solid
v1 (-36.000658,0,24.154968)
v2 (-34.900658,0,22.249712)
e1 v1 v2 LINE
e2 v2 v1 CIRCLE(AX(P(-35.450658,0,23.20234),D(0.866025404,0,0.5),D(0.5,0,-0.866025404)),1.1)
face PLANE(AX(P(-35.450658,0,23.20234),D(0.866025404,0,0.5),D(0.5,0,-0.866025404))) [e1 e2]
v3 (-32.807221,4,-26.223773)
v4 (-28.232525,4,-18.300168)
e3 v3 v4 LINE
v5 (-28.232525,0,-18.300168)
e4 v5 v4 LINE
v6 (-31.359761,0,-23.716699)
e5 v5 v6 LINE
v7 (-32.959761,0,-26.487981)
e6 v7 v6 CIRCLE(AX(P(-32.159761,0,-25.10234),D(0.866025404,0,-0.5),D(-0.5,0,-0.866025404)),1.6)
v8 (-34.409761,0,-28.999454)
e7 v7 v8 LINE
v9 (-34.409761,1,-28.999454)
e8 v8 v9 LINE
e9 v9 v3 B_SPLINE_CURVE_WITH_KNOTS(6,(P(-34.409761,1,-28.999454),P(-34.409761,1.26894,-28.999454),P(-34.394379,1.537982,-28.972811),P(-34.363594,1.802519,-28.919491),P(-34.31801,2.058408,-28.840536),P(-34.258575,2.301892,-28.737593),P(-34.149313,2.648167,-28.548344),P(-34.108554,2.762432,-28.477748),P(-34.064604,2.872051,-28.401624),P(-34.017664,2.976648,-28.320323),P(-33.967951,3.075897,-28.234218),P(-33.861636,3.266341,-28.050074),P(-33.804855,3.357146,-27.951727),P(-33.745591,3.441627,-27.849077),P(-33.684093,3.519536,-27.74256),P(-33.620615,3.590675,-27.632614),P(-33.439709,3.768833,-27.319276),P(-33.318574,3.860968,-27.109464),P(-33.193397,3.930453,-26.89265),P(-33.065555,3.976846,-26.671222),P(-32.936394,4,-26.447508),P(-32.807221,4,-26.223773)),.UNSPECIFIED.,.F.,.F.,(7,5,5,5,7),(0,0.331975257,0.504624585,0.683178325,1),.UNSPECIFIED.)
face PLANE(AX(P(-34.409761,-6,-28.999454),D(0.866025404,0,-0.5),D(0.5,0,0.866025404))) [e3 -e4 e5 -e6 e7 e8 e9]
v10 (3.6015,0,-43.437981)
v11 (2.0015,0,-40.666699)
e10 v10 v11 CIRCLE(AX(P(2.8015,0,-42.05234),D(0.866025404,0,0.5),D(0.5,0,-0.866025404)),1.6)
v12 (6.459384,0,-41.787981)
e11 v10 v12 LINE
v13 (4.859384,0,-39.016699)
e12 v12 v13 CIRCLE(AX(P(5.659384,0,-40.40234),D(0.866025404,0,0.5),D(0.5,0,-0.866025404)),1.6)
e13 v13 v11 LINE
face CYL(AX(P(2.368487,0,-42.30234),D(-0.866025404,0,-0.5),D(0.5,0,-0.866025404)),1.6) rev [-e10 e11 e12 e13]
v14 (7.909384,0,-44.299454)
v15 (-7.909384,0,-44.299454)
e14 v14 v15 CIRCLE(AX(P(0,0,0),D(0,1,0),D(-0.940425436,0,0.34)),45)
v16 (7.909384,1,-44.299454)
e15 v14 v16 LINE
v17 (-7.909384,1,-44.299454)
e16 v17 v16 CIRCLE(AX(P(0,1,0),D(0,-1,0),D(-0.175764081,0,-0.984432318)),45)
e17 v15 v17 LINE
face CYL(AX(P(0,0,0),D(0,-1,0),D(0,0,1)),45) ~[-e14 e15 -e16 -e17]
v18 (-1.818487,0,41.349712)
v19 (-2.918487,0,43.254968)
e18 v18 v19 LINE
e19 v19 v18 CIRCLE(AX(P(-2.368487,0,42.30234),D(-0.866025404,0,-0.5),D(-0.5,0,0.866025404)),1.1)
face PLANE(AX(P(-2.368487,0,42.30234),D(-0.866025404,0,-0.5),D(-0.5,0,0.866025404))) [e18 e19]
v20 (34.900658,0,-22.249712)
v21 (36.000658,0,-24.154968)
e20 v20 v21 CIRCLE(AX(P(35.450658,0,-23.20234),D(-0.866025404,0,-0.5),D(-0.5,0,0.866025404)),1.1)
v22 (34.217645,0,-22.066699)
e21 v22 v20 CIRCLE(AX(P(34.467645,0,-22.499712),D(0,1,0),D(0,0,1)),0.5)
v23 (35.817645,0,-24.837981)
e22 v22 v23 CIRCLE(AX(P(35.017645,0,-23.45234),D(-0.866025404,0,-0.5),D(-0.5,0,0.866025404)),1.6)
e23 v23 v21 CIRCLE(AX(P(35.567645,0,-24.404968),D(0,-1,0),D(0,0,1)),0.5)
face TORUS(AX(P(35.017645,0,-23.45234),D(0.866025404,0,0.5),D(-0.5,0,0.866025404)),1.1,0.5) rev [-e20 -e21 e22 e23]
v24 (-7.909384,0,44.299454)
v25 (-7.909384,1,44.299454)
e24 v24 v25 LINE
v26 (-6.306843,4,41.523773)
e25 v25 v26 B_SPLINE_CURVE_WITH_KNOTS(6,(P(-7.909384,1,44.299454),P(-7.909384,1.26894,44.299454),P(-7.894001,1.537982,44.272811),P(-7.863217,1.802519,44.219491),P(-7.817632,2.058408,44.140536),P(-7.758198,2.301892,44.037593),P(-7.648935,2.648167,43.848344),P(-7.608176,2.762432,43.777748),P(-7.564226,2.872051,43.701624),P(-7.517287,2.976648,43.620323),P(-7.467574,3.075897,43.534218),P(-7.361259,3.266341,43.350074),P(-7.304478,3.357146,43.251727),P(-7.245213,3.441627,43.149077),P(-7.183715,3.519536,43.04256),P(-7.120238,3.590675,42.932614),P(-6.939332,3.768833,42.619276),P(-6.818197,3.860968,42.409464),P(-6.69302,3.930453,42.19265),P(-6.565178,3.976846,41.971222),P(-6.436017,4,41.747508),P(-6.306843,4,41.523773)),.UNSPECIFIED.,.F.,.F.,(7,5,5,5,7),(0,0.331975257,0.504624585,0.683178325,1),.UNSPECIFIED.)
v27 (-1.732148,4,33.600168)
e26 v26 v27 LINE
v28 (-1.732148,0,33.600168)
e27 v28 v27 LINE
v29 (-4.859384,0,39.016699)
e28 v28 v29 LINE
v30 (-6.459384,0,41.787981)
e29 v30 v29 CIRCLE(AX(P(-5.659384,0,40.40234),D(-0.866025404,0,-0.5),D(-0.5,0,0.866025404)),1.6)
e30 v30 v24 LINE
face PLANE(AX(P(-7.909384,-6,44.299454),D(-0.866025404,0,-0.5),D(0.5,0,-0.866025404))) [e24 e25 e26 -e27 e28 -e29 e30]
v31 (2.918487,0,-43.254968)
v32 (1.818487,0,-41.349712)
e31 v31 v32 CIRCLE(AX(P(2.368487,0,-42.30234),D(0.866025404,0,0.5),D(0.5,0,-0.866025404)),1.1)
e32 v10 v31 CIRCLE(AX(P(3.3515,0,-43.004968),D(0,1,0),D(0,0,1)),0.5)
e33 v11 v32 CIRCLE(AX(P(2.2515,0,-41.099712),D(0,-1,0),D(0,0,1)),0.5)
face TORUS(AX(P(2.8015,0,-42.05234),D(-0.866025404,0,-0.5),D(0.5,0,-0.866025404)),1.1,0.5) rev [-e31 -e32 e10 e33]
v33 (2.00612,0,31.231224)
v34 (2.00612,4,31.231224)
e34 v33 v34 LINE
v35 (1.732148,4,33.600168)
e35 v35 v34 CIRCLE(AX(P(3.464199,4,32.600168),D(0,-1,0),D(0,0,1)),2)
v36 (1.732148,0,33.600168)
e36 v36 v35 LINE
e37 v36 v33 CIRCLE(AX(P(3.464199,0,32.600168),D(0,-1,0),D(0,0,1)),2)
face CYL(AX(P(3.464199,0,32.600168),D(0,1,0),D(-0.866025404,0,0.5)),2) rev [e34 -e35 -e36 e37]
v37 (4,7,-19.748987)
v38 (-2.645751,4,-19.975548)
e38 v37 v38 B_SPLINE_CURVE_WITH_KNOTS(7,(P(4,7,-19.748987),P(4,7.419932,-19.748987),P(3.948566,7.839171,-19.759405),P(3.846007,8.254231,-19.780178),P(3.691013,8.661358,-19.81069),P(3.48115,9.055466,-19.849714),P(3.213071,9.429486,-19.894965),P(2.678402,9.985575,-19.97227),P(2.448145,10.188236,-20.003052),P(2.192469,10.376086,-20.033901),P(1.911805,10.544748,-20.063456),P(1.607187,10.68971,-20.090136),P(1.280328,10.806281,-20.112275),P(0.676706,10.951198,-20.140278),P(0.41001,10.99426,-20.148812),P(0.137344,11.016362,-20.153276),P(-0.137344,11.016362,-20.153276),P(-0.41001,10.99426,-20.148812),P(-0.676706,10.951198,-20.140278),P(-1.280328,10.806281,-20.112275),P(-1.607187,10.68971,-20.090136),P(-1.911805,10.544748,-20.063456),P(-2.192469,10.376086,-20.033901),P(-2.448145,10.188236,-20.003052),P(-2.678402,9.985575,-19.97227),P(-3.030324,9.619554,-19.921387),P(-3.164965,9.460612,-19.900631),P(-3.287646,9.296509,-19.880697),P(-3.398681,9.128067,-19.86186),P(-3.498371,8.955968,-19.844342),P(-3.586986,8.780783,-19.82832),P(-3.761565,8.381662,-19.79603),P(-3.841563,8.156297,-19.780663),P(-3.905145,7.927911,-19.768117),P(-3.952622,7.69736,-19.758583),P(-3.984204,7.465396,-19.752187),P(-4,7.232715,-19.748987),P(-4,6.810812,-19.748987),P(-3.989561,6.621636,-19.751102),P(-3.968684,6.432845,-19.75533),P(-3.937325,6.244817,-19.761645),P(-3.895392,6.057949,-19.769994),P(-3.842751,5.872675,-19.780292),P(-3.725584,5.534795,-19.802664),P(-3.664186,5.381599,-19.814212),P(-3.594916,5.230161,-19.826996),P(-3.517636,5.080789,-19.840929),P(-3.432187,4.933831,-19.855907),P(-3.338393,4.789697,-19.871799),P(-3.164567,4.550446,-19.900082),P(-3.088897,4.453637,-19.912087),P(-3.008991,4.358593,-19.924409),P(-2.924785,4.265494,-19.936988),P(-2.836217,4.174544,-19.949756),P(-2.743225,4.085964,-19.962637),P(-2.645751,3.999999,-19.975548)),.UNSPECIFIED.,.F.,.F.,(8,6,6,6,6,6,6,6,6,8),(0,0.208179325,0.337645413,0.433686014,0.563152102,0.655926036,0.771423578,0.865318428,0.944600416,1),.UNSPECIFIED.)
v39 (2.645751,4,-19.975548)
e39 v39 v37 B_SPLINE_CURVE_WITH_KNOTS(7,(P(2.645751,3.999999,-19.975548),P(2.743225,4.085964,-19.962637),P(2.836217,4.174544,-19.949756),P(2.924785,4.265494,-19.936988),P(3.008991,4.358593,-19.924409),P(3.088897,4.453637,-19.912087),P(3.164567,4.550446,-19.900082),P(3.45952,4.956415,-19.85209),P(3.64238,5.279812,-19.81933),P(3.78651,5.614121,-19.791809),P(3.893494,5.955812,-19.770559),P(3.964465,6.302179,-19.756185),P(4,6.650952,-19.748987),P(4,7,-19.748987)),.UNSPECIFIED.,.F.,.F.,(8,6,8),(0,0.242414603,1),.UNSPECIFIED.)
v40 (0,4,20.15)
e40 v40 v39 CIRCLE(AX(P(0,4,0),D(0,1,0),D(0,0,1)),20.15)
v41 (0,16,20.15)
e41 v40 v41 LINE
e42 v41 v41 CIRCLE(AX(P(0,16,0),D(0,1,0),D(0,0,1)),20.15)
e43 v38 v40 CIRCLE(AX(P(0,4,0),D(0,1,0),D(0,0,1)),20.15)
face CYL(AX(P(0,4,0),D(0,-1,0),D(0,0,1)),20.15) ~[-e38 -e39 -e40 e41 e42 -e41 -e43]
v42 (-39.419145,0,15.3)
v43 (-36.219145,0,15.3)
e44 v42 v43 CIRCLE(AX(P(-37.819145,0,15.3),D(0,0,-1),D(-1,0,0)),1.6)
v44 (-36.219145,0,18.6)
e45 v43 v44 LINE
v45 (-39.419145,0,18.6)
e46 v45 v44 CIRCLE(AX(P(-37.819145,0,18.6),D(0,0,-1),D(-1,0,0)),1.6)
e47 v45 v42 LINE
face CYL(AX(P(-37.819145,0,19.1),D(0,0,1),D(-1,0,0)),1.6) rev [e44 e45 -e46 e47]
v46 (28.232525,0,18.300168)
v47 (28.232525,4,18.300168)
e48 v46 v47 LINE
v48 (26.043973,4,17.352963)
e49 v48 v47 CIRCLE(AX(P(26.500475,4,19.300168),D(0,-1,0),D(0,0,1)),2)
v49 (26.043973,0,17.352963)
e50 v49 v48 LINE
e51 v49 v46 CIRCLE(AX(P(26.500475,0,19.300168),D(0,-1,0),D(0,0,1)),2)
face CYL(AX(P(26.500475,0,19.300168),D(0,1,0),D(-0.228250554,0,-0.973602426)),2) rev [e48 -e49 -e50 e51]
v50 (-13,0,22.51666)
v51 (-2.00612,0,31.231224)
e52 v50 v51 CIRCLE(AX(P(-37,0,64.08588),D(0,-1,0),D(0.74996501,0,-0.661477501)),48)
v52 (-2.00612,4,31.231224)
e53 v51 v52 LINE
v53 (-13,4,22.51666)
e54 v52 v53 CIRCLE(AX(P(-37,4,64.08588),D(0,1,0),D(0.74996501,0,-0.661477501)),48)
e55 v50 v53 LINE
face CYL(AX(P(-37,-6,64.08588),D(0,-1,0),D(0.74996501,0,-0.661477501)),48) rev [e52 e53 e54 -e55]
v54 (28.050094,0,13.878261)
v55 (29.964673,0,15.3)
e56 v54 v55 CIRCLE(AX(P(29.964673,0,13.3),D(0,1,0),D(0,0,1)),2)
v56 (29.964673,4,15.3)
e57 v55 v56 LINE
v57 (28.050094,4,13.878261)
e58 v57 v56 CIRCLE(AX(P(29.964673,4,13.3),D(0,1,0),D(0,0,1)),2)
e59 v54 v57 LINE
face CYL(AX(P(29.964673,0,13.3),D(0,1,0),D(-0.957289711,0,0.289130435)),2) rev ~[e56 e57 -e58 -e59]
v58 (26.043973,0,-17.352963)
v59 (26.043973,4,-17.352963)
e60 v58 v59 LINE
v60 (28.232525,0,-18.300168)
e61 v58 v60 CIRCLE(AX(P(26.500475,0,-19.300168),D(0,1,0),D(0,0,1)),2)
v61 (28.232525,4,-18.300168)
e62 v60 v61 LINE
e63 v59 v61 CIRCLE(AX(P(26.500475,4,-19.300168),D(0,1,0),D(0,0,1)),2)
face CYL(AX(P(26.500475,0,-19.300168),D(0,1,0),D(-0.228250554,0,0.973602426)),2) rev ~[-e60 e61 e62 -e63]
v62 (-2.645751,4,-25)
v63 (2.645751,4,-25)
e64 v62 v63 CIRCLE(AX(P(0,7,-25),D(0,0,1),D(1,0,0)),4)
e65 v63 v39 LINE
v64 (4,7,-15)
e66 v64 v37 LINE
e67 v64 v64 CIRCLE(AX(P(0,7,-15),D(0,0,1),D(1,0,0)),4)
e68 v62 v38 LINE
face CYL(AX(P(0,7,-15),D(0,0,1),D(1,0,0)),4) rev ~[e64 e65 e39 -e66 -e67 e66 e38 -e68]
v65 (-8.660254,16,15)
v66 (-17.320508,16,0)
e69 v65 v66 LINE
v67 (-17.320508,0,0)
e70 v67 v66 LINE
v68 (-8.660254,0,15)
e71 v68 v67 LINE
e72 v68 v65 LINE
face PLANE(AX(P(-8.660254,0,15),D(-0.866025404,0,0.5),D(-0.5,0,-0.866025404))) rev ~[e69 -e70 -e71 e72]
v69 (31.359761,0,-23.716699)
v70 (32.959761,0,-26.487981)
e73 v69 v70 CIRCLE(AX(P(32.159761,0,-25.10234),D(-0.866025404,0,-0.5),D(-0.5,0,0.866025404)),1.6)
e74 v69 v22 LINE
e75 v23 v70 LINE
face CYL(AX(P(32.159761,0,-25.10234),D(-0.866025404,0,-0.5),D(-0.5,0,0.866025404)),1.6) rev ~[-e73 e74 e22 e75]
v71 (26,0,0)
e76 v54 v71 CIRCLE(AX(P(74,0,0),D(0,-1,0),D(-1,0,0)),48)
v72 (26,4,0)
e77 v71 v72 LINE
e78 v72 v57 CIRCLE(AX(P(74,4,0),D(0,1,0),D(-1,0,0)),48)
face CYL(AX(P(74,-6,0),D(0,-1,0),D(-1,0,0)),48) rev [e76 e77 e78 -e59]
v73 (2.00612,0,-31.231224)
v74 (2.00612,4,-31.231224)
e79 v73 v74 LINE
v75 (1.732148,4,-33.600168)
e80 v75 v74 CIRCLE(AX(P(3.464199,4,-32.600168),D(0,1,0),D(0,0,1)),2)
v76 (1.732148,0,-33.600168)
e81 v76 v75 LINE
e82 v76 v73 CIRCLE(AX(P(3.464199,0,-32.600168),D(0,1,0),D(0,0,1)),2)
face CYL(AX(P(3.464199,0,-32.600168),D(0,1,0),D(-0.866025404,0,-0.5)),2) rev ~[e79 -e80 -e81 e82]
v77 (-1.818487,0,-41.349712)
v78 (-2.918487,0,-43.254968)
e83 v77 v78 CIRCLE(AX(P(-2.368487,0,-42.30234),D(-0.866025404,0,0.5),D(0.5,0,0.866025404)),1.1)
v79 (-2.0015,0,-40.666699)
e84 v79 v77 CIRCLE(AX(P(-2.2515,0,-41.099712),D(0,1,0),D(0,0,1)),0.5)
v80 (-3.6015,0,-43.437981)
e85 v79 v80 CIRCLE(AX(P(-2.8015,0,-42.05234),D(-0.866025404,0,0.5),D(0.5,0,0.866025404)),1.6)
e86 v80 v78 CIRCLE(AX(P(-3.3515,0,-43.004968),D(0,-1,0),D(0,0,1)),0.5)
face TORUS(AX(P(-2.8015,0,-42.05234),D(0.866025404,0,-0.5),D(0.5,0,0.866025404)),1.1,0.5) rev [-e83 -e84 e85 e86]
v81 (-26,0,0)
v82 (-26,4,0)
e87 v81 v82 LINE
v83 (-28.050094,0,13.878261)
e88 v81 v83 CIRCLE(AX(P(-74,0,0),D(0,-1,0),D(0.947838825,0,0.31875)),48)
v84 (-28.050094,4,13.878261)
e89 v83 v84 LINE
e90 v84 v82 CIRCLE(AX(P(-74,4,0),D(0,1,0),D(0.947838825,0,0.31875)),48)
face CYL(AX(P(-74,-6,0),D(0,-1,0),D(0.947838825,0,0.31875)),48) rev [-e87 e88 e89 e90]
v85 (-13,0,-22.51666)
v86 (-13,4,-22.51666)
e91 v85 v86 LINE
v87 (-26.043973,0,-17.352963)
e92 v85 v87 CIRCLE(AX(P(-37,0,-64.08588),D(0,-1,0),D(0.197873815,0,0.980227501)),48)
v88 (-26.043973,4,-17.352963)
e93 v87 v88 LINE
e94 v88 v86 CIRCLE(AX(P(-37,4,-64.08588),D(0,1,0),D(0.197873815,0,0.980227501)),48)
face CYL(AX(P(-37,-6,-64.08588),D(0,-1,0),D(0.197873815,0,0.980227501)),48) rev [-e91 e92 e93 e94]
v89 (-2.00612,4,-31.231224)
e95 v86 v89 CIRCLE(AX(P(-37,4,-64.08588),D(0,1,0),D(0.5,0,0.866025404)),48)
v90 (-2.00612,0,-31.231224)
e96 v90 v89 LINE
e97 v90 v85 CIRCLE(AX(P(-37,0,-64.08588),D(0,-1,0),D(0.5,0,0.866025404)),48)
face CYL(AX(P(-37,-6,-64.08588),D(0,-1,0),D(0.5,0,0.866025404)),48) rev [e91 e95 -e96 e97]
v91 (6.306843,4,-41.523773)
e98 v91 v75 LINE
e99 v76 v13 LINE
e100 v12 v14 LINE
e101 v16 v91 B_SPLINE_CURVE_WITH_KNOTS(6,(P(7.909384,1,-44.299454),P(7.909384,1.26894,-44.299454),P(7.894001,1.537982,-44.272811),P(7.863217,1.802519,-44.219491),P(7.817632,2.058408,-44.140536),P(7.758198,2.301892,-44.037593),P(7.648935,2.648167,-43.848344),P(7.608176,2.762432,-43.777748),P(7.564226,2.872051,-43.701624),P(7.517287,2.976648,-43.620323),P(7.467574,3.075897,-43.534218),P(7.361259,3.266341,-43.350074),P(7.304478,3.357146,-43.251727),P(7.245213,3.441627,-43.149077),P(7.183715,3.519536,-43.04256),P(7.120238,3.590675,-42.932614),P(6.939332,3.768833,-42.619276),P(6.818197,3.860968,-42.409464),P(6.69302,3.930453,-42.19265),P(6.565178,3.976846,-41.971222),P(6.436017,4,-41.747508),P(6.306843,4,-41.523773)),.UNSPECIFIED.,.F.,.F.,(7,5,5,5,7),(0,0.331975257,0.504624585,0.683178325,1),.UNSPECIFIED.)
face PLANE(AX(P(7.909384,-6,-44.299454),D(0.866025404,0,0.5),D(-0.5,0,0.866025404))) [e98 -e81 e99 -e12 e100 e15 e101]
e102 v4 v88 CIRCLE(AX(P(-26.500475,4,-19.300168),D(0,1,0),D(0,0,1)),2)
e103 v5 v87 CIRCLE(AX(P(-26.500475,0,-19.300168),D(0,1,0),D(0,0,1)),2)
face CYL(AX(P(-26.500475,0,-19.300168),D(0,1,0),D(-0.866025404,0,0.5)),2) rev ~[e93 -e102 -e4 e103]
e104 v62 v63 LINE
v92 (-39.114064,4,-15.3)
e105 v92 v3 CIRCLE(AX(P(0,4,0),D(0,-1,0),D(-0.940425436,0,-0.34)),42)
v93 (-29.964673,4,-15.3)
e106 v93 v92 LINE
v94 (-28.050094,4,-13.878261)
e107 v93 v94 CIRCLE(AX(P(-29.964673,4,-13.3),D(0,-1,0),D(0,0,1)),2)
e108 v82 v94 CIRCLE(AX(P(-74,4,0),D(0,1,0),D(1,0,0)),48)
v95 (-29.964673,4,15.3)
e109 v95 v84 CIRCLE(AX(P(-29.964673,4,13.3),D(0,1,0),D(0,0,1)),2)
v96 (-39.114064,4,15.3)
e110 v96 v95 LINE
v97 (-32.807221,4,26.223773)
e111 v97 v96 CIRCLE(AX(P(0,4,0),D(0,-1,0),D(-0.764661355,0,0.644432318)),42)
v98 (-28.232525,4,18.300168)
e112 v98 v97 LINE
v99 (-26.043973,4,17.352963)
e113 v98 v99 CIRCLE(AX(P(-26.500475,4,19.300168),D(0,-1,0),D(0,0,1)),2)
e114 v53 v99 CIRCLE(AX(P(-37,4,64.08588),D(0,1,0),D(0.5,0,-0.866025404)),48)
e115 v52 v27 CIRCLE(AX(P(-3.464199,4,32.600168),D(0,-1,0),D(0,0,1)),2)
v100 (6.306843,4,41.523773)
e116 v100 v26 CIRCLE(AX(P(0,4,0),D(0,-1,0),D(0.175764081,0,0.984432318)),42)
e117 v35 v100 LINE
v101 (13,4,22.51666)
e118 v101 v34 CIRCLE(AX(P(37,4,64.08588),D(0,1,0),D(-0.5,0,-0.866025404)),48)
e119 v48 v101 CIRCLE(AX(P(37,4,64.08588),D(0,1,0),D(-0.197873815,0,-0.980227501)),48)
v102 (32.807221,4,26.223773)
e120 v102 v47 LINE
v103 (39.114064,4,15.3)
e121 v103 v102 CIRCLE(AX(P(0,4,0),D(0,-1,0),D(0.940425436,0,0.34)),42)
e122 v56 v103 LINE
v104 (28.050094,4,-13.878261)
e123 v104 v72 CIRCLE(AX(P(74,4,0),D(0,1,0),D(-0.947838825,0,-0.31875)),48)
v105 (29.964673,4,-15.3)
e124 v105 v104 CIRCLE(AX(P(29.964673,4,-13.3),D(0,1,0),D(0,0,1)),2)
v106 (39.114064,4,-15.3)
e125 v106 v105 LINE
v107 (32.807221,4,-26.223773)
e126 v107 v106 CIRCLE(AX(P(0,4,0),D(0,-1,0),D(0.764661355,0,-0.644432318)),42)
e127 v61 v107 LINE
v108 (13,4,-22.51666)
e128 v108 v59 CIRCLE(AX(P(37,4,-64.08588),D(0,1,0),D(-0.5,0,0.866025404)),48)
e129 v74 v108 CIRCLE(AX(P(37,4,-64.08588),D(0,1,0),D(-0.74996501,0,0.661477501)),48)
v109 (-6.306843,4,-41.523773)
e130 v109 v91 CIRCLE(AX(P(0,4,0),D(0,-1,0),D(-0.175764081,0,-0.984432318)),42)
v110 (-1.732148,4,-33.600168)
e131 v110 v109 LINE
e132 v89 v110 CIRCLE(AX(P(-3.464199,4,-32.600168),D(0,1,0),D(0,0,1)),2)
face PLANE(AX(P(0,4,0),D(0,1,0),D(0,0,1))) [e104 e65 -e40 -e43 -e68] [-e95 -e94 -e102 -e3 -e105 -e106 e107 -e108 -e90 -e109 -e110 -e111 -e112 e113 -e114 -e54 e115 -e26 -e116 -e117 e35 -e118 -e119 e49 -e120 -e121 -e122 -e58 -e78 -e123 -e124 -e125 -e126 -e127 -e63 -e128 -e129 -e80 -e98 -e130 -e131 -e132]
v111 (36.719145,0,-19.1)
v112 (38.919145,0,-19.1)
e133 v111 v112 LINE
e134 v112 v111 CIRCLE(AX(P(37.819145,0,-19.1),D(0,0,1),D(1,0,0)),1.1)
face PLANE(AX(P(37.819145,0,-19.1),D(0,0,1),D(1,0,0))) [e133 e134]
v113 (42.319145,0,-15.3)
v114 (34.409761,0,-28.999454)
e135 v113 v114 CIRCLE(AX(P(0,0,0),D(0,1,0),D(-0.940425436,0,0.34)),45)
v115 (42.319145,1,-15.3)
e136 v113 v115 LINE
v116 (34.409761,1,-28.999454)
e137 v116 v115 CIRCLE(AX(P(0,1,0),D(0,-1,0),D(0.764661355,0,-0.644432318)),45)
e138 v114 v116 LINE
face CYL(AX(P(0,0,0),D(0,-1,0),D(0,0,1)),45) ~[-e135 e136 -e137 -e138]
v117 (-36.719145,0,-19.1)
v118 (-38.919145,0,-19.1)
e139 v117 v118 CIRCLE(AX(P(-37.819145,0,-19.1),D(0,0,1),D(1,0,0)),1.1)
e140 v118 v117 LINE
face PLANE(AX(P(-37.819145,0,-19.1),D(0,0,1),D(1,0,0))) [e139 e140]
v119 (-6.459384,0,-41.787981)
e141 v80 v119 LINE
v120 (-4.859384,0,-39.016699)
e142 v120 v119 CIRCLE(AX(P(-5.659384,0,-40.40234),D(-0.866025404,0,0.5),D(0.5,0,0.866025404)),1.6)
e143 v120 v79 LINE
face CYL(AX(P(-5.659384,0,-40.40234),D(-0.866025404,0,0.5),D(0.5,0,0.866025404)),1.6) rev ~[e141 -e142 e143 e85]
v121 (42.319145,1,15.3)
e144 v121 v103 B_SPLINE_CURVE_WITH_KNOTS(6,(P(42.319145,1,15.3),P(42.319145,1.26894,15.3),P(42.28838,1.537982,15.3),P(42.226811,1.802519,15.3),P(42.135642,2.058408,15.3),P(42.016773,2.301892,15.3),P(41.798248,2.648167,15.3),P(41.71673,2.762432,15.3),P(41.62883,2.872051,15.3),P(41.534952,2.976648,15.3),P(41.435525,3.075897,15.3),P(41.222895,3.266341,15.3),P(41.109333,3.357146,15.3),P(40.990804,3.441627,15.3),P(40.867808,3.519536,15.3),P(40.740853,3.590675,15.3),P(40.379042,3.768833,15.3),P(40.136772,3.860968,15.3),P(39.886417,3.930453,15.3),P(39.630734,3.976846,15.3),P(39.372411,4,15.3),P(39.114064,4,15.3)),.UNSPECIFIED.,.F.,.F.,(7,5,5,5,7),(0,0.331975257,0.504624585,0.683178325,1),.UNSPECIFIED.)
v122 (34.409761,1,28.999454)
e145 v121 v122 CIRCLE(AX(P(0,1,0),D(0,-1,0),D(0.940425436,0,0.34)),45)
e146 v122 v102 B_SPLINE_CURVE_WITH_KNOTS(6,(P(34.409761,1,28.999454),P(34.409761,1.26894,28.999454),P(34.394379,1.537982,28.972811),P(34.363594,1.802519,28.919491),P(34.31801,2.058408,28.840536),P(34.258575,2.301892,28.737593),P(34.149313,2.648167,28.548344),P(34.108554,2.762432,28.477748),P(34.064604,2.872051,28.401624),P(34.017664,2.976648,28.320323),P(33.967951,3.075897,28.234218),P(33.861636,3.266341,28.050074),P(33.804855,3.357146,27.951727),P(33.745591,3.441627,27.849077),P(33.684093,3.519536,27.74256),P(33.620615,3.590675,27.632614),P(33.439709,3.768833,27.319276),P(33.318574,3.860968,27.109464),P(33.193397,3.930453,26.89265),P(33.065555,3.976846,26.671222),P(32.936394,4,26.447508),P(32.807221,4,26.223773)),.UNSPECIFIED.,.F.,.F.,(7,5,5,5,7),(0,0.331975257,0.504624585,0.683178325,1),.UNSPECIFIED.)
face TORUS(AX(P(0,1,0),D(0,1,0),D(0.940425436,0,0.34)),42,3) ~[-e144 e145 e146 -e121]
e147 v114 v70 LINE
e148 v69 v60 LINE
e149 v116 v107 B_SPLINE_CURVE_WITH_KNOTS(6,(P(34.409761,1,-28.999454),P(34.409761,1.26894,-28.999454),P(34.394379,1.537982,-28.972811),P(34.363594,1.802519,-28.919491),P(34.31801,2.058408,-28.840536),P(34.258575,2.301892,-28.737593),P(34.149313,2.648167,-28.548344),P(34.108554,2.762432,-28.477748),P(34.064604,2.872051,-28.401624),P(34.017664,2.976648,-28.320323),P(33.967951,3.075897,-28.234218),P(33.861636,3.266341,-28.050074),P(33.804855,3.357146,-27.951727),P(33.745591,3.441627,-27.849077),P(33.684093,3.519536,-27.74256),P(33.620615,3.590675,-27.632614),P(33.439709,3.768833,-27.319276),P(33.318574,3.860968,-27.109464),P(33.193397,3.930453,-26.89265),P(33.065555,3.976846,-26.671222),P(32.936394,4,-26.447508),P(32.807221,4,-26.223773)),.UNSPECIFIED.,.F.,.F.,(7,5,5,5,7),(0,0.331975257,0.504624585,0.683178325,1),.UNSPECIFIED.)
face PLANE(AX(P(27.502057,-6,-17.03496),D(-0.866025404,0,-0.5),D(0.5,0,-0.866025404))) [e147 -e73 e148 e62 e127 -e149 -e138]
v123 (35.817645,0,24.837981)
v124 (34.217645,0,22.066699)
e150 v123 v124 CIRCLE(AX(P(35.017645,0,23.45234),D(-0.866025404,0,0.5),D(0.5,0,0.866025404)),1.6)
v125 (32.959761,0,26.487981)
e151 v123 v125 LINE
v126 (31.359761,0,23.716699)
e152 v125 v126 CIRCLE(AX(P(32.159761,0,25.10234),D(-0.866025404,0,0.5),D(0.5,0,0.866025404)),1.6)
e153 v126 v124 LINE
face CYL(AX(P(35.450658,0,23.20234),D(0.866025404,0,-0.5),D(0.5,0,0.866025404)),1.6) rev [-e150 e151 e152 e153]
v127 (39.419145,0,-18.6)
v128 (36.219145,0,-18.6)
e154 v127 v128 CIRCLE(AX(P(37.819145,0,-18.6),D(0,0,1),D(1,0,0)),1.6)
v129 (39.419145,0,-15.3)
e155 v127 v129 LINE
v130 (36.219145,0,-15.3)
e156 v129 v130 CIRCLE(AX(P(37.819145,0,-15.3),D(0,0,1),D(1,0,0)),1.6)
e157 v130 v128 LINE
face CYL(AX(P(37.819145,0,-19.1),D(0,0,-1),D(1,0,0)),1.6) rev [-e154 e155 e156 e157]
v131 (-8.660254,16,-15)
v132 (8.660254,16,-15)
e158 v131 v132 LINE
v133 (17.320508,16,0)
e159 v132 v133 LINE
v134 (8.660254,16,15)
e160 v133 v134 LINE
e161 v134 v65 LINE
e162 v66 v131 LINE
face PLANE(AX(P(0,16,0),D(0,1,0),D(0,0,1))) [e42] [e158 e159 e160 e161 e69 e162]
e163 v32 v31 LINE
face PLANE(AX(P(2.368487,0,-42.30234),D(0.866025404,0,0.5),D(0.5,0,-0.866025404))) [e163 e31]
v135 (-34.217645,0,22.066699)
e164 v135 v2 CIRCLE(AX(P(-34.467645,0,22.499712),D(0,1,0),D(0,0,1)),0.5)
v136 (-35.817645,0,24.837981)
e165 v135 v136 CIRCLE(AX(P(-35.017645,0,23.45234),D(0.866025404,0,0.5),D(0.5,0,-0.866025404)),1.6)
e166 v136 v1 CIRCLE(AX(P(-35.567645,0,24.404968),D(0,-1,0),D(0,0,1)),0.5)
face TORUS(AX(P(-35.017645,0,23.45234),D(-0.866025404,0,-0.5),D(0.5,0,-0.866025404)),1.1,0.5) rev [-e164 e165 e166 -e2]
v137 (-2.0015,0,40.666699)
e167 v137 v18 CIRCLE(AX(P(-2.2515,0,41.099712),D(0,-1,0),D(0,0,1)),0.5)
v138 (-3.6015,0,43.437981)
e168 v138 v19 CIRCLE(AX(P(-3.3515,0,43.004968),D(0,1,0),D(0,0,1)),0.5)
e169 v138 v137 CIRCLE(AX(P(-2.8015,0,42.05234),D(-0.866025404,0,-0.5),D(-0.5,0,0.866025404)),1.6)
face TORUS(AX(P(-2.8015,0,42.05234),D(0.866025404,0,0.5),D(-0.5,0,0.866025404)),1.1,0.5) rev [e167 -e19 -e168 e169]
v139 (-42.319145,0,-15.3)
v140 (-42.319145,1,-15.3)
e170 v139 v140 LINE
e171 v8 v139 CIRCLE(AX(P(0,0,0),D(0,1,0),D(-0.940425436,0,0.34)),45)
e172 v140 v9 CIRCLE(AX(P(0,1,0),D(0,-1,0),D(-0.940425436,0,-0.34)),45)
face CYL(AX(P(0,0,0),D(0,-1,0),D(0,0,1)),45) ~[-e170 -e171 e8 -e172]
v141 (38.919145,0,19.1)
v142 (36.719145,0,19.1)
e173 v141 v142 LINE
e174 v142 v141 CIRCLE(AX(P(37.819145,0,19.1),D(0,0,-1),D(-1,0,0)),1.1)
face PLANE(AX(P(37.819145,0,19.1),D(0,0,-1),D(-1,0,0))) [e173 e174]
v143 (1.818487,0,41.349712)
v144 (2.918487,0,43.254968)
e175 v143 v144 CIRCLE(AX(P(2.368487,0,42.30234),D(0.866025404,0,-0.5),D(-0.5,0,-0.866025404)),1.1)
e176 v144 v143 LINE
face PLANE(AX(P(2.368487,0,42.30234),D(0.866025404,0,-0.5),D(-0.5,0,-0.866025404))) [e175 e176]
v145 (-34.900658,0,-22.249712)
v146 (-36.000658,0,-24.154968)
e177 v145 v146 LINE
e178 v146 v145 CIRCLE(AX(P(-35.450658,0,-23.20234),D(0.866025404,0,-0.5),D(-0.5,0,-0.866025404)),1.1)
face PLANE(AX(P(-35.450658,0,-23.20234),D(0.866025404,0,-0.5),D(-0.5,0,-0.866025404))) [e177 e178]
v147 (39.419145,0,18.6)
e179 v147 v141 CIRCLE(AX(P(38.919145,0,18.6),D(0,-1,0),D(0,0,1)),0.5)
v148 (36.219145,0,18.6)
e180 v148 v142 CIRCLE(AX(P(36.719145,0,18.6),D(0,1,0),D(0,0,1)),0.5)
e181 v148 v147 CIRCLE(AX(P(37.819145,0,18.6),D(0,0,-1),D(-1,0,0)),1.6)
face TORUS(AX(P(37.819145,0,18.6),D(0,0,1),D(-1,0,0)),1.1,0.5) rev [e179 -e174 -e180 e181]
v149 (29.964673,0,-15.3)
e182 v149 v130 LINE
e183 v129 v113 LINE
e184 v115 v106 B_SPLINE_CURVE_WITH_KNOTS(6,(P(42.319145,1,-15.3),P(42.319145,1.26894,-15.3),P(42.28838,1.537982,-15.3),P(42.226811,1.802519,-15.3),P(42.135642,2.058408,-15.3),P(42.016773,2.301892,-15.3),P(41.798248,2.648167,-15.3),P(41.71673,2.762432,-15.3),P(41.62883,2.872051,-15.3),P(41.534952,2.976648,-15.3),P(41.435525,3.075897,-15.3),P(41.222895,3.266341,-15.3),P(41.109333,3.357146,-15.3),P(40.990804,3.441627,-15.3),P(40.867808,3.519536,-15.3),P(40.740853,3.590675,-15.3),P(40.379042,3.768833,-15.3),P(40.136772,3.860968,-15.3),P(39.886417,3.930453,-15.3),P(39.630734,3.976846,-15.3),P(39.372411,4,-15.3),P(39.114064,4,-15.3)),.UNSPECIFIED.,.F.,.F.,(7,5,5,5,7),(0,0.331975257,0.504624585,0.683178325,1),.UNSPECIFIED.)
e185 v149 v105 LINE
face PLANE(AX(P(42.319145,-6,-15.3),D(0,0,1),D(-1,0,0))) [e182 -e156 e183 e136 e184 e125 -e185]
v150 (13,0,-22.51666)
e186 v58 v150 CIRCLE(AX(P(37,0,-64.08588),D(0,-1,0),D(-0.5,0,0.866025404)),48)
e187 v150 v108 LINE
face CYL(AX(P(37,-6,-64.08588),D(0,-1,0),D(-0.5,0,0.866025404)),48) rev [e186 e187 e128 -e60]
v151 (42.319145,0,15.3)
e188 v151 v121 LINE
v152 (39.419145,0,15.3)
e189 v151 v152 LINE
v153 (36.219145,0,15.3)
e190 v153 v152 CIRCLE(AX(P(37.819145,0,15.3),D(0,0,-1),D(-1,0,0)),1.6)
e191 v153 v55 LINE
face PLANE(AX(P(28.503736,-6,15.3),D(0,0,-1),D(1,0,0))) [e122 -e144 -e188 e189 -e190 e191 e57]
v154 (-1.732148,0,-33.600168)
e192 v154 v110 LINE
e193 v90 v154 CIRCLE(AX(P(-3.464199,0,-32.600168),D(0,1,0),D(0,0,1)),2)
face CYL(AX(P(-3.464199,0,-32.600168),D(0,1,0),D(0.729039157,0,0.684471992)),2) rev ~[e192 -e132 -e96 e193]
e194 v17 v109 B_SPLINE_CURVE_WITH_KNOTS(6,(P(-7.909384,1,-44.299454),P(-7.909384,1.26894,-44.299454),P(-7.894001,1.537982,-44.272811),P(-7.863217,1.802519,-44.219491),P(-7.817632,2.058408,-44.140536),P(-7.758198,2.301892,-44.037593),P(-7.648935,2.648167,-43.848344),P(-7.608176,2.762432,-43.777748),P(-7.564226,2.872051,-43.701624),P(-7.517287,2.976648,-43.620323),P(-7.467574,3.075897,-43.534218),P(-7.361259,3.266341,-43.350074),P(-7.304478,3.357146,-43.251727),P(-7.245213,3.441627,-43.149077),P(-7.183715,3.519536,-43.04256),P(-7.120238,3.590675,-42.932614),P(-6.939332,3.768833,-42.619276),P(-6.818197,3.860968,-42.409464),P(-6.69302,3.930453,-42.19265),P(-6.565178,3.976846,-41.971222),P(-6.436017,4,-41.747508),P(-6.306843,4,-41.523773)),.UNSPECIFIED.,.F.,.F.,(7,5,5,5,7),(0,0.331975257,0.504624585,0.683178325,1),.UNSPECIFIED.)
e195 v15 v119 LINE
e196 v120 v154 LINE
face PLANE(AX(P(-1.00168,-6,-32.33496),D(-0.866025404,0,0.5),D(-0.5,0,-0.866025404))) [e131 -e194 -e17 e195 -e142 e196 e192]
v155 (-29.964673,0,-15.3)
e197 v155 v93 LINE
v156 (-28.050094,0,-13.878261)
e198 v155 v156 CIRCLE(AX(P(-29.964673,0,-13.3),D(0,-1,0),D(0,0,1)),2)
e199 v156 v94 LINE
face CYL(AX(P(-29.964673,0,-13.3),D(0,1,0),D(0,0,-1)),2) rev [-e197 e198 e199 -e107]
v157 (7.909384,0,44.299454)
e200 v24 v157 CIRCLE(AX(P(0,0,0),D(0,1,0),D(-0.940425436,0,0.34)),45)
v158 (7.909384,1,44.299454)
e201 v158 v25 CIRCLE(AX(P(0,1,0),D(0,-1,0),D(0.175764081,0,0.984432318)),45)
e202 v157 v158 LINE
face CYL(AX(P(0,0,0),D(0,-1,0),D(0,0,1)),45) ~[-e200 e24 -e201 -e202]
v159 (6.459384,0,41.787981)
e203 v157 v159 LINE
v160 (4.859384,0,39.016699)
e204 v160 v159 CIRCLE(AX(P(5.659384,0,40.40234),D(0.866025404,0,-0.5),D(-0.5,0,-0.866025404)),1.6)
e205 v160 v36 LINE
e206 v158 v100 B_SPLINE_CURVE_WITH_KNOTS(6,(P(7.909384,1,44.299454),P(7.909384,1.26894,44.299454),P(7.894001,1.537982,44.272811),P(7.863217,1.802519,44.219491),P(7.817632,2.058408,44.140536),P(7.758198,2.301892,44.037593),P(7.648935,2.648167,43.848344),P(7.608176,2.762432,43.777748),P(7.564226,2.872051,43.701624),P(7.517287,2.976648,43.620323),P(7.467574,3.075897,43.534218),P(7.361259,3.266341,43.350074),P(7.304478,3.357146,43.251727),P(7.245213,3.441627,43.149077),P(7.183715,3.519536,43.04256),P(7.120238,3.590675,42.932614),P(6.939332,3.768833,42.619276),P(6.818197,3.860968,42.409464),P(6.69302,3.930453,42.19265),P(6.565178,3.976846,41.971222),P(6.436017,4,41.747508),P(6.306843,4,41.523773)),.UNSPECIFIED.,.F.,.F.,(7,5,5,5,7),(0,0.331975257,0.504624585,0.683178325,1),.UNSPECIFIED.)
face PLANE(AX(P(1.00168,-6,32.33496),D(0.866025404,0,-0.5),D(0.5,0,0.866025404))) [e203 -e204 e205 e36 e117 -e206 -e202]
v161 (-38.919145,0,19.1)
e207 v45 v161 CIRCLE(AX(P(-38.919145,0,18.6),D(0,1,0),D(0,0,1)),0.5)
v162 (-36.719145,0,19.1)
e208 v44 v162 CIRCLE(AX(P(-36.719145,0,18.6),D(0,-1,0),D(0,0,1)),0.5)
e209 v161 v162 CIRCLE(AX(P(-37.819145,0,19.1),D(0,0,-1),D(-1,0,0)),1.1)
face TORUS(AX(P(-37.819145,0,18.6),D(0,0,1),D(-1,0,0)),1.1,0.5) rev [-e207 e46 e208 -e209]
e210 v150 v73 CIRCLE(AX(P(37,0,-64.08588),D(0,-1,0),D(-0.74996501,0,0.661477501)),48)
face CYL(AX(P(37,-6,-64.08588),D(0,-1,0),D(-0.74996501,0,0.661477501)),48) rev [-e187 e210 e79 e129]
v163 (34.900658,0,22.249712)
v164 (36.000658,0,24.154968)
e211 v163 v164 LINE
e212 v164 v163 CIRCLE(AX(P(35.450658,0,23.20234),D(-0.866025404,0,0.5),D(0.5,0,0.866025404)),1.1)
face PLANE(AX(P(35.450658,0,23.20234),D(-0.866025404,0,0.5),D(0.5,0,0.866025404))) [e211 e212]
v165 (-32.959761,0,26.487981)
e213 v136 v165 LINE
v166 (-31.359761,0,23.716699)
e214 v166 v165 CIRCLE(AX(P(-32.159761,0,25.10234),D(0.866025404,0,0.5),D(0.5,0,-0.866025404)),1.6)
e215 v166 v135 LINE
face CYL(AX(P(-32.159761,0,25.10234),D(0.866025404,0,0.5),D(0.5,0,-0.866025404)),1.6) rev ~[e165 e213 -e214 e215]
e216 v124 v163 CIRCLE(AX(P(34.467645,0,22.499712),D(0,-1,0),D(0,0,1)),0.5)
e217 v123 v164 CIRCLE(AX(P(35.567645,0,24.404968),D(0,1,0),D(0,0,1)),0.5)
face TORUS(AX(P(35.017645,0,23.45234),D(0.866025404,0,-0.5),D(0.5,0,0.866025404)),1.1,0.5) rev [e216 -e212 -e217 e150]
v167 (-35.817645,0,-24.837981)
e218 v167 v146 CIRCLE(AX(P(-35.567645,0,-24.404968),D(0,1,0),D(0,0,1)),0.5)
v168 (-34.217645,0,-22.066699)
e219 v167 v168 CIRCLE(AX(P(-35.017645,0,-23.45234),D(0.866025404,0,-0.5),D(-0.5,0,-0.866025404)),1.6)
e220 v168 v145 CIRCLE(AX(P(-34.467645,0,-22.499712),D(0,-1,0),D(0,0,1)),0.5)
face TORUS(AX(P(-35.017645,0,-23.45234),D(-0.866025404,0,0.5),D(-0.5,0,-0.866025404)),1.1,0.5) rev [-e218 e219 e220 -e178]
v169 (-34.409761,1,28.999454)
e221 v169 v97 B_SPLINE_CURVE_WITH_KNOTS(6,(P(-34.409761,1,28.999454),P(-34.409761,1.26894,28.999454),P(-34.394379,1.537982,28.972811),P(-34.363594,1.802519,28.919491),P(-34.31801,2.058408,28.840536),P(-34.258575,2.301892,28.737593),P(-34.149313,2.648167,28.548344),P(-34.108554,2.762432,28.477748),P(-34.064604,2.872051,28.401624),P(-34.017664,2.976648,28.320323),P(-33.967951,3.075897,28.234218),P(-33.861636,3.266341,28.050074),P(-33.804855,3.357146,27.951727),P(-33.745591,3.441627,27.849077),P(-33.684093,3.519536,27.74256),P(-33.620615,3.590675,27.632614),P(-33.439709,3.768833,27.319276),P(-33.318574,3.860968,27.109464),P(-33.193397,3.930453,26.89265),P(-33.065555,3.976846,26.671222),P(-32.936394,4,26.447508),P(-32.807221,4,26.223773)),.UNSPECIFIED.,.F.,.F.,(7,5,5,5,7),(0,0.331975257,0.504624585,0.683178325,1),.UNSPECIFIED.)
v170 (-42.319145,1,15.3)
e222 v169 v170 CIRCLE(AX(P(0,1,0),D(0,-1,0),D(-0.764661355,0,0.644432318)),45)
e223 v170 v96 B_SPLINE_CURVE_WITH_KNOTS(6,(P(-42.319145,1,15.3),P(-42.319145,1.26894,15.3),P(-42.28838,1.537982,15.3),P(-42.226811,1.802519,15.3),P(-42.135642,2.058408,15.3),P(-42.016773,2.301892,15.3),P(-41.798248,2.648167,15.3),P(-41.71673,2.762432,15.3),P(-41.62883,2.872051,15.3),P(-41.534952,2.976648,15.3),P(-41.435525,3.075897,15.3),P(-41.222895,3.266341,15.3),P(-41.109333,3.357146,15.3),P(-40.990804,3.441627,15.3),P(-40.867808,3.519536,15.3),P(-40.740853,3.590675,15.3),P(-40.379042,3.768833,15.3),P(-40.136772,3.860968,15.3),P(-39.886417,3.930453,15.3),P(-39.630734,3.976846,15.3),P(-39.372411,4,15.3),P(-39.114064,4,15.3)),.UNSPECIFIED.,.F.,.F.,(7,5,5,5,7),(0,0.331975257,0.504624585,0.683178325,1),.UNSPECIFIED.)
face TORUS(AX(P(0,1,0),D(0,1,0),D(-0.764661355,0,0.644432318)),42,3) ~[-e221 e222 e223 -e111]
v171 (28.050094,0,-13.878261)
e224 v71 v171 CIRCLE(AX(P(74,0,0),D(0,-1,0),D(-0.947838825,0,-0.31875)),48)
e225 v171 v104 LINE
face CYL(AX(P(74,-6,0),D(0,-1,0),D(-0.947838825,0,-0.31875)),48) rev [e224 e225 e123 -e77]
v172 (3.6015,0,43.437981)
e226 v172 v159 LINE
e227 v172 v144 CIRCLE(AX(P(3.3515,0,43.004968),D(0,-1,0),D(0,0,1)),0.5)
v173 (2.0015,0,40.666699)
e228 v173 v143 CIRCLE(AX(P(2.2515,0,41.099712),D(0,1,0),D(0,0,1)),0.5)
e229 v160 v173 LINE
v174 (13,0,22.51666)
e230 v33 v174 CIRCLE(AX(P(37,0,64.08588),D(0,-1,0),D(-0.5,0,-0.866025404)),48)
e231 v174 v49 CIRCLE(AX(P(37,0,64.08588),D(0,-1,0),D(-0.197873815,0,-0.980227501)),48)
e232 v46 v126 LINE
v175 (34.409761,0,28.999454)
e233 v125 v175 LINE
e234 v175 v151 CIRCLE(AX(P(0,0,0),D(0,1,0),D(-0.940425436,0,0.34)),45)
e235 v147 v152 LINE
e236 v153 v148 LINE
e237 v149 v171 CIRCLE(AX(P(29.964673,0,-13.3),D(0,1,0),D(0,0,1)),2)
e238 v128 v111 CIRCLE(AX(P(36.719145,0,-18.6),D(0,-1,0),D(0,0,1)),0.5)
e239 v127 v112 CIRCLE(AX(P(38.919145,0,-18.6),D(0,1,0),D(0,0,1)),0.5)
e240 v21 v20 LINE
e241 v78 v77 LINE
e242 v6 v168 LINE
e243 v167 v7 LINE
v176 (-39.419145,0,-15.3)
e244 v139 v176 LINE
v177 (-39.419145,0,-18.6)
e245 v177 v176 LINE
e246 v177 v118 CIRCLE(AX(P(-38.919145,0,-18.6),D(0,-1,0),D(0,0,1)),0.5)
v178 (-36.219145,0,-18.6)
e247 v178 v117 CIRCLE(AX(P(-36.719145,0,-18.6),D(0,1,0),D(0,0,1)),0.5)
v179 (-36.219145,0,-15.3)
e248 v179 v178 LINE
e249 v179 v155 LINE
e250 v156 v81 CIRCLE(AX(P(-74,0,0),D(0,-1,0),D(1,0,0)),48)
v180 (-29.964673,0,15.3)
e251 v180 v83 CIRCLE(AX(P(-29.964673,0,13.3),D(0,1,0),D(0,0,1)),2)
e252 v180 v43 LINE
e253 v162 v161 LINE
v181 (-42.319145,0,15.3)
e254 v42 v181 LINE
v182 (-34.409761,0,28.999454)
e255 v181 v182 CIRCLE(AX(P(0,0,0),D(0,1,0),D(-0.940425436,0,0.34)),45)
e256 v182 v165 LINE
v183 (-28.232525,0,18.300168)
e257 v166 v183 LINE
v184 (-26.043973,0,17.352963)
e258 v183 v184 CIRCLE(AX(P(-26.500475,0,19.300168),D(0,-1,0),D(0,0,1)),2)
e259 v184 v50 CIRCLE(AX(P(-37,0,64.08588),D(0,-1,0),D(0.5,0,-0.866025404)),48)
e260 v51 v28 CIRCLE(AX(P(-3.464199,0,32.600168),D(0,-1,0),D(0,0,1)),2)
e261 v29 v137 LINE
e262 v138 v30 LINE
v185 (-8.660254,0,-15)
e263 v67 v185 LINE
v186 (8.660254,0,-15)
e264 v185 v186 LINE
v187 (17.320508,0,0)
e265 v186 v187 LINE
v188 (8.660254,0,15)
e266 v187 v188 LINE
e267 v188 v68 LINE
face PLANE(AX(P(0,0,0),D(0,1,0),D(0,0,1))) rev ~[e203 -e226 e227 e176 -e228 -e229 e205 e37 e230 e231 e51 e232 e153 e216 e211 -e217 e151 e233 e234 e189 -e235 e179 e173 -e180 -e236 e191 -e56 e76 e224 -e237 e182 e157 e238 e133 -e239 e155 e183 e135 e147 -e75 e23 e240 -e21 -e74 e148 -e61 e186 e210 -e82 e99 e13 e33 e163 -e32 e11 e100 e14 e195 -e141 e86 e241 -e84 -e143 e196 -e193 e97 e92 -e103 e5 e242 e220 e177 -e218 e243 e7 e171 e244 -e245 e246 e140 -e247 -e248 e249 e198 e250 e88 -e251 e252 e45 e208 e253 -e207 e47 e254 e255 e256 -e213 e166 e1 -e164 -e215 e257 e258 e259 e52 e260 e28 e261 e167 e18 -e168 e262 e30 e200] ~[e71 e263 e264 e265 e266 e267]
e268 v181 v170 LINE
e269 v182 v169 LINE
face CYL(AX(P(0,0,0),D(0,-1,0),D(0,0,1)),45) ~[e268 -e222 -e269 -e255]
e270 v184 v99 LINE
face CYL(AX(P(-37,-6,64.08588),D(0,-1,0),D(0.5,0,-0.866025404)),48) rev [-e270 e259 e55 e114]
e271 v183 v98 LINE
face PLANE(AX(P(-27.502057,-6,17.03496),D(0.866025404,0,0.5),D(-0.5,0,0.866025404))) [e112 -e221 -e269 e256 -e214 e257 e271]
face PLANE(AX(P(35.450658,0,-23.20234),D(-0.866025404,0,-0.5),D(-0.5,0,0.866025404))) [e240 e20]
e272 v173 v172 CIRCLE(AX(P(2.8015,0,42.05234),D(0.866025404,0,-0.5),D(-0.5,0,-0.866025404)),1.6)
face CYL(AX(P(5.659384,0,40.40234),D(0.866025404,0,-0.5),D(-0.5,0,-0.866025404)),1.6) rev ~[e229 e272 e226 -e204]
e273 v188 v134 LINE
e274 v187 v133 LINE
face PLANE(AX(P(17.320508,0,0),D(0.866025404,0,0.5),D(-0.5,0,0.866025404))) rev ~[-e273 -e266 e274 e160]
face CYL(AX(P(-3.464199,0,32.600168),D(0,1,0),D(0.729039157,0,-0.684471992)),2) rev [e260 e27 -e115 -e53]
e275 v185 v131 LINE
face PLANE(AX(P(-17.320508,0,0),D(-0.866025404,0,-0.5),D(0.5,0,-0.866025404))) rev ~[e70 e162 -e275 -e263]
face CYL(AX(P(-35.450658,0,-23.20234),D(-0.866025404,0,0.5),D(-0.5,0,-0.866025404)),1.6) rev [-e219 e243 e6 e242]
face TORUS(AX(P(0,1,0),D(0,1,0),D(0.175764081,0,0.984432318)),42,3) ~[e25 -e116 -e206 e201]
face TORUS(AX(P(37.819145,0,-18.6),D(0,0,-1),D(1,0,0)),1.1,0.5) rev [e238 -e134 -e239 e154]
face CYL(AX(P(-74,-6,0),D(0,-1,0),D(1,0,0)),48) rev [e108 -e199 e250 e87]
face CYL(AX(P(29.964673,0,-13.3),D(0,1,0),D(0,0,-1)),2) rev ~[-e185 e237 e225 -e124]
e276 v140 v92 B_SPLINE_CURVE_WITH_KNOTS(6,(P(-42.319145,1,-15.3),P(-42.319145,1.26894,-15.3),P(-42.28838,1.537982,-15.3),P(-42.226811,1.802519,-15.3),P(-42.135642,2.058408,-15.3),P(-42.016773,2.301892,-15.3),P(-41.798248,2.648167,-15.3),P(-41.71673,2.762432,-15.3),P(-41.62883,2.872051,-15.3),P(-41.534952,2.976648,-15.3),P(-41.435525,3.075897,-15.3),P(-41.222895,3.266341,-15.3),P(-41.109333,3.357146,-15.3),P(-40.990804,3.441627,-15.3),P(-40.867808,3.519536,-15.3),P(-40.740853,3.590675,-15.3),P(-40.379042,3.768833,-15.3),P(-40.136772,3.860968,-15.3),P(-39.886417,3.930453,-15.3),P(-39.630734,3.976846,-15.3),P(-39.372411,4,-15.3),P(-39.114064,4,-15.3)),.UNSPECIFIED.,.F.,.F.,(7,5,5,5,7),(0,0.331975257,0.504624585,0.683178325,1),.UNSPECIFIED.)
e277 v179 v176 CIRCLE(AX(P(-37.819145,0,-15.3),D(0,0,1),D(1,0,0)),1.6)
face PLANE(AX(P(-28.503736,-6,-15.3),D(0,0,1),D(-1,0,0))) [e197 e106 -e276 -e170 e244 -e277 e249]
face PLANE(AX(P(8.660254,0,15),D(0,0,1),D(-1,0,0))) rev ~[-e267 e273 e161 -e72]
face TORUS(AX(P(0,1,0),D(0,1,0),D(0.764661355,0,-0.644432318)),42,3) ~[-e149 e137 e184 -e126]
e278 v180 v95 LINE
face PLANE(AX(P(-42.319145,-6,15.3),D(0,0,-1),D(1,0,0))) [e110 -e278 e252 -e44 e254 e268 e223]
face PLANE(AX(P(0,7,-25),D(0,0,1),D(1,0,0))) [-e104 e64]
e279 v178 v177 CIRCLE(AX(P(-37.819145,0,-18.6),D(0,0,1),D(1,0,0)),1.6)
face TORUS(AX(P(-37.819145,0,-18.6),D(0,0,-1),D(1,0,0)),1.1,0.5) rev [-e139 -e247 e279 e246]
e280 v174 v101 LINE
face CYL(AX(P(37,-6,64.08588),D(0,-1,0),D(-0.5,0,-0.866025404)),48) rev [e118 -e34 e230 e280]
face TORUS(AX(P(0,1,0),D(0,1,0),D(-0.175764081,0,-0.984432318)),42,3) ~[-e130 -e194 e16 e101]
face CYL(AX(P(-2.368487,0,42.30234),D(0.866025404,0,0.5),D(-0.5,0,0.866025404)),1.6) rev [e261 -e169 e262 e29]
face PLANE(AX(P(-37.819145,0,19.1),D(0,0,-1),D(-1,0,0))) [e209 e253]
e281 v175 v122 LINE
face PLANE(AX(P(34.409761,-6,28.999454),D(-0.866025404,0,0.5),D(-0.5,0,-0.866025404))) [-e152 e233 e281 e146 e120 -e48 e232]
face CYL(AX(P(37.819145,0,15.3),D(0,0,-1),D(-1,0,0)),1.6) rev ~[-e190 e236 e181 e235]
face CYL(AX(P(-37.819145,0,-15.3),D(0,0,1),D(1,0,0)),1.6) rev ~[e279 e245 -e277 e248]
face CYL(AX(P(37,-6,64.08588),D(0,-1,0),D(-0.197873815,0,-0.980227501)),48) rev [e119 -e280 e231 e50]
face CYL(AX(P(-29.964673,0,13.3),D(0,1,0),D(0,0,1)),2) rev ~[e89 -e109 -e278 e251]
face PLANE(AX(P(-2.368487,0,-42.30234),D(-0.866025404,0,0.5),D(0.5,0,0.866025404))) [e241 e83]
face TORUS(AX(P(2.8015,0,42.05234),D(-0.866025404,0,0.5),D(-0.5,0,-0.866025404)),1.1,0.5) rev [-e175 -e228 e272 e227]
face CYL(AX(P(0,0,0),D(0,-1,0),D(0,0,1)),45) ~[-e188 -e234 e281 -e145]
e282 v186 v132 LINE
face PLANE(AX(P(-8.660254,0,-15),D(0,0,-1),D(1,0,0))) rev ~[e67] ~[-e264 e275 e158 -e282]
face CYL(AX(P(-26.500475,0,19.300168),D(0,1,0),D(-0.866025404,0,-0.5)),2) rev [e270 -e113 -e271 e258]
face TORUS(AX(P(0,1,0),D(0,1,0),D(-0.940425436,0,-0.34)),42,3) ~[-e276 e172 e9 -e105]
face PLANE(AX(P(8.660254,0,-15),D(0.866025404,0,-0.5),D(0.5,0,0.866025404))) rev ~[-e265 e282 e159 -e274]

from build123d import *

# Parameters (mm, degrees)
SKIZZE1_R                       = 45
AUFSATZ_LINEAR_AUSTRAGEN1_DEPTH = 4
SCHNITT_LINEAR_START            = -10
SCHNITT_LINEAR_AUSTRAGEN2_DEPTH = 10
KREISMUSTER1_COUNT              = 6
SKIZZE4_R                       = 20.15
AUFSATZ_LINEAR_AUSTRAGEN2_DEPTH = 12
SCHNITT_LINEAR_AUSTRAGEN3_DEPTH = 16
VERRUNDUNG1_R                   = 2
SKIZZE5_R                       = 1.6
SCHNITT_LINEAR_AUSTRAGEN5_DEPTH = 3.8
VERRUNDUNG3_R                   = 0.5
KREISMUSTER2_COUNT              = 6
VERRUNDUNG3_OF_KREISMUSTER2_R   = 0.5
SCHNITT_LINEAR_START_2          = -3.8
SKIZZE6_R                       = 1.6
SCHNITT_LINEAR_AUSTRAGEN6_DEPTH = 3.8
VERRUNDUNG4_R                   = 0.5
KREISMUSTER3_COUNT              = 6
VERRUNDUNG4_OF_KREISMUSTER3_R   = 0.5
VERRUNDUNG2_R                   = 3
SKIZZE7_R                       = 4
SCHNITT_LINEAR_AUSTRAGEN7_DEPTH = 10


with BuildPart() as part:
    # Skizze1 → Aufsatz-Linear austragen1 (new body)
    with BuildSketch(Plane(origin=(0, 0, 0), x_dir=(1, 0, 0), z_dir=(0, 1, 0))):
        with Locations(Location((0, 0, 0), (0, 0, 270))):
            Circle(SKIZZE1_R)
    extrude(amount=AUFSATZ_LINEAR_AUSTRAGEN1_DEPTH)

    # Skizze2 → Schnitt-Linear austragen2 (cut)
    with BuildSketch(Plane(origin=(0, 4, 0), x_dir=(1, 0, 0), z_dir=(0, 1, 0)).offset(SCHNITT_LINEAR_START)):
        with BuildLine():
            ThreePointArc((-26, 0), (-26.63006939, 7.751752964), (-28.503736417, 15.3))
            Line((-28.503736417, 15.3), (-42.319144604, 15.3))
            ThreePointArc((-42.319144604, 15.3), (-45, 0), (-42.319144604, -15.3))
            Line((-42.319144604, -15.3), (-28.503736417, -15.3))
            ThreePointArc((-28.503736417, -15.3), (-26.63006939, -7.751752964), (-26, 0))
        make_face()
    schnitt_linear_austragen2 = extrude(amount=SCHNITT_LINEAR_AUSTRAGEN2_DEPTH, mode=Mode.SUBTRACT)

    # Kreismuster1: Schnitt-Linear austragen2 ×6 about axis
    kreismuster1_axis = Axis((0, 0, 0), (0, 1, 0))
    for i in range(1, KREISMUSTER1_COUNT):
        add(schnitt_linear_austragen2.rotate(kreismuster1_axis, i * 360 / KREISMUSTER1_COUNT), mode=Mode.SUBTRACT)

    # Skizze4 → Aufsatz-Linear austragen2 (add)
    with BuildSketch(Plane(origin=(0, 4, 0), x_dir=(1, 0, 0), z_dir=(0, 1, 0))):
        with Locations(Location((0, 0, 0), (0, 0, 270))):
            Circle(SKIZZE4_R)
    extrude(amount=AUFSATZ_LINEAR_AUSTRAGEN2_DEPTH)

    # Skizze3 → Schnitt-Linear austragen3 (cut)
    with BuildSketch(Plane.XZ):
        Polygon((17.320508076, 0), (8.660254038, 15), (-8.660254038, 15), (-17.320508076, 0), (-8.660254038, -15), (8.660254038, -15), align=None)
    extrude(amount=-SCHNITT_LINEAR_AUSTRAGEN3_DEPTH, mode=Mode.SUBTRACT)

    # Verrundung1
    verrundung1_edges = [part.edges().sort_by_distance(p)[0] for p in [
        (-28.503736417, 2, 15.3),
        (-28.503736417, 2, -15.3),
        (-27.502056886, 2, -17.03495984),
        (-1.001679531, 2, -32.33495984),
        (1.001679531, 2, -32.33495984),
        (27.502056886, 2, -17.03495984),
        (28.503736417, 2, -15.3),
        (28.503736417, 2, 15.3),
        (27.502056886, 2, 17.03495984),
        (1.001679531, 2, 32.33495984),
        (-1.001679531, 2, 32.33495984),
        (-27.502056886, 2, 17.03495984),
    ]]
    fillet(verrundung1_edges, radius=VERRUNDUNG1_R)

    # Skizze5 → Schnitt-Linear austragen5 (cut)
    with BuildSketch(Plane(origin=(13.250188678, 0, 7.65), x_dir=(-0.4999999999999918, 0, 0.8660254037844434), z_dir=(-0.8660254037844434, 0, -0.4999999999999918))):
        with Locations((-37.819144604, 0)):
            Circle(SKIZZE5_R)
    schnitt_linear_austragen5 = extrude(amount=-SCHNITT_LINEAR_AUSTRAGEN5_DEPTH, mode=Mode.SUBTRACT)

    # Verrundung3
    verrundung3_edges = [part.edges().sort_by_distance(p)[0] for p in [
        (35.450657514, 1.6, -23.202339976),
    ]]
    fillet(verrundung3_edges, radius=VERRUNDUNG3_R)

    # Kreismuster2: Schnitt-Linear austragen5 ×6 about axis
    kreismuster2_axis = Axis((0, 0, 0), (0, 1, 0))
    for i in range(1, KREISMUSTER2_COUNT):
        add(schnitt_linear_austragen5.rotate(kreismuster2_axis, i * 360 / KREISMUSTER2_COUNT), mode=Mode.SUBTRACT)

    # Verrundung3 of Kreismuster2
    verrundung3_of_kreismuster2_edges = [part.edges().sort_by_distance(p)[0] for p in [
        (-2.36848709, 1.6, -42.302339976),
        (-37.819144604, 1.6, -19.1),
        (-35.450657514, 1.6, 23.202339976),
        (2.36848709, 1.6, 42.302339976),
        (37.819144604, 1.6, 19.1),
    ]]
    fillet(verrundung3_of_kreismuster2_edges, radius=VERRUNDUNG3_OF_KREISMUSTER2_R)

    # Skizze6 → Schnitt-Linear austragen6 (cut)
    with BuildSketch(Plane.XY.offset(-15.3).offset(SCHNITT_LINEAR_START_2)):
        with Locations((37.819144604, 0)):
            Circle(SKIZZE6_R)
    schnitt_linear_austragen6 = extrude(amount=SCHNITT_LINEAR_AUSTRAGEN6_DEPTH, mode=Mode.SUBTRACT)

    # Verrundung4
    verrundung4_edges = [part.edges().sort_by_distance(p)[0] for p in [
        (37.819144604, 1.6, -19.1),
    ]]
    fillet(verrundung4_edges, radius=VERRUNDUNG4_R)

    # Kreismuster3: Schnitt-Linear austragen6 ×6 about axis
    kreismuster3_axis = Axis((0, 0, 0), (0, 1, 0))
    for i in range(1, KREISMUSTER3_COUNT):
        add(schnitt_linear_austragen6.rotate(kreismuster3_axis, i * 360 / KREISMUSTER3_COUNT), mode=Mode.SUBTRACT)

    # Verrundung4 of Kreismuster3
    verrundung4_of_kreismuster3_edges = [part.edges().sort_by_distance(p)[0] for p in [
        (2.36848709, 1.6, -42.302339976),
        (-35.450657514, 1.6, -23.202339976),
        (-37.819144604, 1.6, 19.1),
        (-2.36848709, 1.6, 42.302339976),
        (35.450657514, 1.6, 23.202339976),
    ]]
    fillet(verrundung4_of_kreismuster3_edges, radius=VERRUNDUNG4_OF_KREISMUSTER3_R)

    # Verrundung2
    verrundung2_edges = [part.edges().sort_by_distance(p)[0] for p in [
        (0, 4, 45),
        (38.97114317, 4, 22.5),
        (38.97114317, 4, -22.5),
        (0, 4, -45),
        (-38.97114317, 4, -22.5),
        (-38.97114317, 4, 22.5),
    ]]
    fillet(verrundung2_edges, radius=VERRUNDUNG2_R)

    # Skizze7 → Schnitt-Linear austragen7 (cut)
    with BuildSketch(Plane.XY.offset(-15)):
        with Locations((0, 7)):
            Circle(SKIZZE7_R)
    extrude(amount=-SCHNITT_LINEAR_AUSTRAGEN7_DEPTH, mode=Mode.SUBTRACT)


solid = part.part
